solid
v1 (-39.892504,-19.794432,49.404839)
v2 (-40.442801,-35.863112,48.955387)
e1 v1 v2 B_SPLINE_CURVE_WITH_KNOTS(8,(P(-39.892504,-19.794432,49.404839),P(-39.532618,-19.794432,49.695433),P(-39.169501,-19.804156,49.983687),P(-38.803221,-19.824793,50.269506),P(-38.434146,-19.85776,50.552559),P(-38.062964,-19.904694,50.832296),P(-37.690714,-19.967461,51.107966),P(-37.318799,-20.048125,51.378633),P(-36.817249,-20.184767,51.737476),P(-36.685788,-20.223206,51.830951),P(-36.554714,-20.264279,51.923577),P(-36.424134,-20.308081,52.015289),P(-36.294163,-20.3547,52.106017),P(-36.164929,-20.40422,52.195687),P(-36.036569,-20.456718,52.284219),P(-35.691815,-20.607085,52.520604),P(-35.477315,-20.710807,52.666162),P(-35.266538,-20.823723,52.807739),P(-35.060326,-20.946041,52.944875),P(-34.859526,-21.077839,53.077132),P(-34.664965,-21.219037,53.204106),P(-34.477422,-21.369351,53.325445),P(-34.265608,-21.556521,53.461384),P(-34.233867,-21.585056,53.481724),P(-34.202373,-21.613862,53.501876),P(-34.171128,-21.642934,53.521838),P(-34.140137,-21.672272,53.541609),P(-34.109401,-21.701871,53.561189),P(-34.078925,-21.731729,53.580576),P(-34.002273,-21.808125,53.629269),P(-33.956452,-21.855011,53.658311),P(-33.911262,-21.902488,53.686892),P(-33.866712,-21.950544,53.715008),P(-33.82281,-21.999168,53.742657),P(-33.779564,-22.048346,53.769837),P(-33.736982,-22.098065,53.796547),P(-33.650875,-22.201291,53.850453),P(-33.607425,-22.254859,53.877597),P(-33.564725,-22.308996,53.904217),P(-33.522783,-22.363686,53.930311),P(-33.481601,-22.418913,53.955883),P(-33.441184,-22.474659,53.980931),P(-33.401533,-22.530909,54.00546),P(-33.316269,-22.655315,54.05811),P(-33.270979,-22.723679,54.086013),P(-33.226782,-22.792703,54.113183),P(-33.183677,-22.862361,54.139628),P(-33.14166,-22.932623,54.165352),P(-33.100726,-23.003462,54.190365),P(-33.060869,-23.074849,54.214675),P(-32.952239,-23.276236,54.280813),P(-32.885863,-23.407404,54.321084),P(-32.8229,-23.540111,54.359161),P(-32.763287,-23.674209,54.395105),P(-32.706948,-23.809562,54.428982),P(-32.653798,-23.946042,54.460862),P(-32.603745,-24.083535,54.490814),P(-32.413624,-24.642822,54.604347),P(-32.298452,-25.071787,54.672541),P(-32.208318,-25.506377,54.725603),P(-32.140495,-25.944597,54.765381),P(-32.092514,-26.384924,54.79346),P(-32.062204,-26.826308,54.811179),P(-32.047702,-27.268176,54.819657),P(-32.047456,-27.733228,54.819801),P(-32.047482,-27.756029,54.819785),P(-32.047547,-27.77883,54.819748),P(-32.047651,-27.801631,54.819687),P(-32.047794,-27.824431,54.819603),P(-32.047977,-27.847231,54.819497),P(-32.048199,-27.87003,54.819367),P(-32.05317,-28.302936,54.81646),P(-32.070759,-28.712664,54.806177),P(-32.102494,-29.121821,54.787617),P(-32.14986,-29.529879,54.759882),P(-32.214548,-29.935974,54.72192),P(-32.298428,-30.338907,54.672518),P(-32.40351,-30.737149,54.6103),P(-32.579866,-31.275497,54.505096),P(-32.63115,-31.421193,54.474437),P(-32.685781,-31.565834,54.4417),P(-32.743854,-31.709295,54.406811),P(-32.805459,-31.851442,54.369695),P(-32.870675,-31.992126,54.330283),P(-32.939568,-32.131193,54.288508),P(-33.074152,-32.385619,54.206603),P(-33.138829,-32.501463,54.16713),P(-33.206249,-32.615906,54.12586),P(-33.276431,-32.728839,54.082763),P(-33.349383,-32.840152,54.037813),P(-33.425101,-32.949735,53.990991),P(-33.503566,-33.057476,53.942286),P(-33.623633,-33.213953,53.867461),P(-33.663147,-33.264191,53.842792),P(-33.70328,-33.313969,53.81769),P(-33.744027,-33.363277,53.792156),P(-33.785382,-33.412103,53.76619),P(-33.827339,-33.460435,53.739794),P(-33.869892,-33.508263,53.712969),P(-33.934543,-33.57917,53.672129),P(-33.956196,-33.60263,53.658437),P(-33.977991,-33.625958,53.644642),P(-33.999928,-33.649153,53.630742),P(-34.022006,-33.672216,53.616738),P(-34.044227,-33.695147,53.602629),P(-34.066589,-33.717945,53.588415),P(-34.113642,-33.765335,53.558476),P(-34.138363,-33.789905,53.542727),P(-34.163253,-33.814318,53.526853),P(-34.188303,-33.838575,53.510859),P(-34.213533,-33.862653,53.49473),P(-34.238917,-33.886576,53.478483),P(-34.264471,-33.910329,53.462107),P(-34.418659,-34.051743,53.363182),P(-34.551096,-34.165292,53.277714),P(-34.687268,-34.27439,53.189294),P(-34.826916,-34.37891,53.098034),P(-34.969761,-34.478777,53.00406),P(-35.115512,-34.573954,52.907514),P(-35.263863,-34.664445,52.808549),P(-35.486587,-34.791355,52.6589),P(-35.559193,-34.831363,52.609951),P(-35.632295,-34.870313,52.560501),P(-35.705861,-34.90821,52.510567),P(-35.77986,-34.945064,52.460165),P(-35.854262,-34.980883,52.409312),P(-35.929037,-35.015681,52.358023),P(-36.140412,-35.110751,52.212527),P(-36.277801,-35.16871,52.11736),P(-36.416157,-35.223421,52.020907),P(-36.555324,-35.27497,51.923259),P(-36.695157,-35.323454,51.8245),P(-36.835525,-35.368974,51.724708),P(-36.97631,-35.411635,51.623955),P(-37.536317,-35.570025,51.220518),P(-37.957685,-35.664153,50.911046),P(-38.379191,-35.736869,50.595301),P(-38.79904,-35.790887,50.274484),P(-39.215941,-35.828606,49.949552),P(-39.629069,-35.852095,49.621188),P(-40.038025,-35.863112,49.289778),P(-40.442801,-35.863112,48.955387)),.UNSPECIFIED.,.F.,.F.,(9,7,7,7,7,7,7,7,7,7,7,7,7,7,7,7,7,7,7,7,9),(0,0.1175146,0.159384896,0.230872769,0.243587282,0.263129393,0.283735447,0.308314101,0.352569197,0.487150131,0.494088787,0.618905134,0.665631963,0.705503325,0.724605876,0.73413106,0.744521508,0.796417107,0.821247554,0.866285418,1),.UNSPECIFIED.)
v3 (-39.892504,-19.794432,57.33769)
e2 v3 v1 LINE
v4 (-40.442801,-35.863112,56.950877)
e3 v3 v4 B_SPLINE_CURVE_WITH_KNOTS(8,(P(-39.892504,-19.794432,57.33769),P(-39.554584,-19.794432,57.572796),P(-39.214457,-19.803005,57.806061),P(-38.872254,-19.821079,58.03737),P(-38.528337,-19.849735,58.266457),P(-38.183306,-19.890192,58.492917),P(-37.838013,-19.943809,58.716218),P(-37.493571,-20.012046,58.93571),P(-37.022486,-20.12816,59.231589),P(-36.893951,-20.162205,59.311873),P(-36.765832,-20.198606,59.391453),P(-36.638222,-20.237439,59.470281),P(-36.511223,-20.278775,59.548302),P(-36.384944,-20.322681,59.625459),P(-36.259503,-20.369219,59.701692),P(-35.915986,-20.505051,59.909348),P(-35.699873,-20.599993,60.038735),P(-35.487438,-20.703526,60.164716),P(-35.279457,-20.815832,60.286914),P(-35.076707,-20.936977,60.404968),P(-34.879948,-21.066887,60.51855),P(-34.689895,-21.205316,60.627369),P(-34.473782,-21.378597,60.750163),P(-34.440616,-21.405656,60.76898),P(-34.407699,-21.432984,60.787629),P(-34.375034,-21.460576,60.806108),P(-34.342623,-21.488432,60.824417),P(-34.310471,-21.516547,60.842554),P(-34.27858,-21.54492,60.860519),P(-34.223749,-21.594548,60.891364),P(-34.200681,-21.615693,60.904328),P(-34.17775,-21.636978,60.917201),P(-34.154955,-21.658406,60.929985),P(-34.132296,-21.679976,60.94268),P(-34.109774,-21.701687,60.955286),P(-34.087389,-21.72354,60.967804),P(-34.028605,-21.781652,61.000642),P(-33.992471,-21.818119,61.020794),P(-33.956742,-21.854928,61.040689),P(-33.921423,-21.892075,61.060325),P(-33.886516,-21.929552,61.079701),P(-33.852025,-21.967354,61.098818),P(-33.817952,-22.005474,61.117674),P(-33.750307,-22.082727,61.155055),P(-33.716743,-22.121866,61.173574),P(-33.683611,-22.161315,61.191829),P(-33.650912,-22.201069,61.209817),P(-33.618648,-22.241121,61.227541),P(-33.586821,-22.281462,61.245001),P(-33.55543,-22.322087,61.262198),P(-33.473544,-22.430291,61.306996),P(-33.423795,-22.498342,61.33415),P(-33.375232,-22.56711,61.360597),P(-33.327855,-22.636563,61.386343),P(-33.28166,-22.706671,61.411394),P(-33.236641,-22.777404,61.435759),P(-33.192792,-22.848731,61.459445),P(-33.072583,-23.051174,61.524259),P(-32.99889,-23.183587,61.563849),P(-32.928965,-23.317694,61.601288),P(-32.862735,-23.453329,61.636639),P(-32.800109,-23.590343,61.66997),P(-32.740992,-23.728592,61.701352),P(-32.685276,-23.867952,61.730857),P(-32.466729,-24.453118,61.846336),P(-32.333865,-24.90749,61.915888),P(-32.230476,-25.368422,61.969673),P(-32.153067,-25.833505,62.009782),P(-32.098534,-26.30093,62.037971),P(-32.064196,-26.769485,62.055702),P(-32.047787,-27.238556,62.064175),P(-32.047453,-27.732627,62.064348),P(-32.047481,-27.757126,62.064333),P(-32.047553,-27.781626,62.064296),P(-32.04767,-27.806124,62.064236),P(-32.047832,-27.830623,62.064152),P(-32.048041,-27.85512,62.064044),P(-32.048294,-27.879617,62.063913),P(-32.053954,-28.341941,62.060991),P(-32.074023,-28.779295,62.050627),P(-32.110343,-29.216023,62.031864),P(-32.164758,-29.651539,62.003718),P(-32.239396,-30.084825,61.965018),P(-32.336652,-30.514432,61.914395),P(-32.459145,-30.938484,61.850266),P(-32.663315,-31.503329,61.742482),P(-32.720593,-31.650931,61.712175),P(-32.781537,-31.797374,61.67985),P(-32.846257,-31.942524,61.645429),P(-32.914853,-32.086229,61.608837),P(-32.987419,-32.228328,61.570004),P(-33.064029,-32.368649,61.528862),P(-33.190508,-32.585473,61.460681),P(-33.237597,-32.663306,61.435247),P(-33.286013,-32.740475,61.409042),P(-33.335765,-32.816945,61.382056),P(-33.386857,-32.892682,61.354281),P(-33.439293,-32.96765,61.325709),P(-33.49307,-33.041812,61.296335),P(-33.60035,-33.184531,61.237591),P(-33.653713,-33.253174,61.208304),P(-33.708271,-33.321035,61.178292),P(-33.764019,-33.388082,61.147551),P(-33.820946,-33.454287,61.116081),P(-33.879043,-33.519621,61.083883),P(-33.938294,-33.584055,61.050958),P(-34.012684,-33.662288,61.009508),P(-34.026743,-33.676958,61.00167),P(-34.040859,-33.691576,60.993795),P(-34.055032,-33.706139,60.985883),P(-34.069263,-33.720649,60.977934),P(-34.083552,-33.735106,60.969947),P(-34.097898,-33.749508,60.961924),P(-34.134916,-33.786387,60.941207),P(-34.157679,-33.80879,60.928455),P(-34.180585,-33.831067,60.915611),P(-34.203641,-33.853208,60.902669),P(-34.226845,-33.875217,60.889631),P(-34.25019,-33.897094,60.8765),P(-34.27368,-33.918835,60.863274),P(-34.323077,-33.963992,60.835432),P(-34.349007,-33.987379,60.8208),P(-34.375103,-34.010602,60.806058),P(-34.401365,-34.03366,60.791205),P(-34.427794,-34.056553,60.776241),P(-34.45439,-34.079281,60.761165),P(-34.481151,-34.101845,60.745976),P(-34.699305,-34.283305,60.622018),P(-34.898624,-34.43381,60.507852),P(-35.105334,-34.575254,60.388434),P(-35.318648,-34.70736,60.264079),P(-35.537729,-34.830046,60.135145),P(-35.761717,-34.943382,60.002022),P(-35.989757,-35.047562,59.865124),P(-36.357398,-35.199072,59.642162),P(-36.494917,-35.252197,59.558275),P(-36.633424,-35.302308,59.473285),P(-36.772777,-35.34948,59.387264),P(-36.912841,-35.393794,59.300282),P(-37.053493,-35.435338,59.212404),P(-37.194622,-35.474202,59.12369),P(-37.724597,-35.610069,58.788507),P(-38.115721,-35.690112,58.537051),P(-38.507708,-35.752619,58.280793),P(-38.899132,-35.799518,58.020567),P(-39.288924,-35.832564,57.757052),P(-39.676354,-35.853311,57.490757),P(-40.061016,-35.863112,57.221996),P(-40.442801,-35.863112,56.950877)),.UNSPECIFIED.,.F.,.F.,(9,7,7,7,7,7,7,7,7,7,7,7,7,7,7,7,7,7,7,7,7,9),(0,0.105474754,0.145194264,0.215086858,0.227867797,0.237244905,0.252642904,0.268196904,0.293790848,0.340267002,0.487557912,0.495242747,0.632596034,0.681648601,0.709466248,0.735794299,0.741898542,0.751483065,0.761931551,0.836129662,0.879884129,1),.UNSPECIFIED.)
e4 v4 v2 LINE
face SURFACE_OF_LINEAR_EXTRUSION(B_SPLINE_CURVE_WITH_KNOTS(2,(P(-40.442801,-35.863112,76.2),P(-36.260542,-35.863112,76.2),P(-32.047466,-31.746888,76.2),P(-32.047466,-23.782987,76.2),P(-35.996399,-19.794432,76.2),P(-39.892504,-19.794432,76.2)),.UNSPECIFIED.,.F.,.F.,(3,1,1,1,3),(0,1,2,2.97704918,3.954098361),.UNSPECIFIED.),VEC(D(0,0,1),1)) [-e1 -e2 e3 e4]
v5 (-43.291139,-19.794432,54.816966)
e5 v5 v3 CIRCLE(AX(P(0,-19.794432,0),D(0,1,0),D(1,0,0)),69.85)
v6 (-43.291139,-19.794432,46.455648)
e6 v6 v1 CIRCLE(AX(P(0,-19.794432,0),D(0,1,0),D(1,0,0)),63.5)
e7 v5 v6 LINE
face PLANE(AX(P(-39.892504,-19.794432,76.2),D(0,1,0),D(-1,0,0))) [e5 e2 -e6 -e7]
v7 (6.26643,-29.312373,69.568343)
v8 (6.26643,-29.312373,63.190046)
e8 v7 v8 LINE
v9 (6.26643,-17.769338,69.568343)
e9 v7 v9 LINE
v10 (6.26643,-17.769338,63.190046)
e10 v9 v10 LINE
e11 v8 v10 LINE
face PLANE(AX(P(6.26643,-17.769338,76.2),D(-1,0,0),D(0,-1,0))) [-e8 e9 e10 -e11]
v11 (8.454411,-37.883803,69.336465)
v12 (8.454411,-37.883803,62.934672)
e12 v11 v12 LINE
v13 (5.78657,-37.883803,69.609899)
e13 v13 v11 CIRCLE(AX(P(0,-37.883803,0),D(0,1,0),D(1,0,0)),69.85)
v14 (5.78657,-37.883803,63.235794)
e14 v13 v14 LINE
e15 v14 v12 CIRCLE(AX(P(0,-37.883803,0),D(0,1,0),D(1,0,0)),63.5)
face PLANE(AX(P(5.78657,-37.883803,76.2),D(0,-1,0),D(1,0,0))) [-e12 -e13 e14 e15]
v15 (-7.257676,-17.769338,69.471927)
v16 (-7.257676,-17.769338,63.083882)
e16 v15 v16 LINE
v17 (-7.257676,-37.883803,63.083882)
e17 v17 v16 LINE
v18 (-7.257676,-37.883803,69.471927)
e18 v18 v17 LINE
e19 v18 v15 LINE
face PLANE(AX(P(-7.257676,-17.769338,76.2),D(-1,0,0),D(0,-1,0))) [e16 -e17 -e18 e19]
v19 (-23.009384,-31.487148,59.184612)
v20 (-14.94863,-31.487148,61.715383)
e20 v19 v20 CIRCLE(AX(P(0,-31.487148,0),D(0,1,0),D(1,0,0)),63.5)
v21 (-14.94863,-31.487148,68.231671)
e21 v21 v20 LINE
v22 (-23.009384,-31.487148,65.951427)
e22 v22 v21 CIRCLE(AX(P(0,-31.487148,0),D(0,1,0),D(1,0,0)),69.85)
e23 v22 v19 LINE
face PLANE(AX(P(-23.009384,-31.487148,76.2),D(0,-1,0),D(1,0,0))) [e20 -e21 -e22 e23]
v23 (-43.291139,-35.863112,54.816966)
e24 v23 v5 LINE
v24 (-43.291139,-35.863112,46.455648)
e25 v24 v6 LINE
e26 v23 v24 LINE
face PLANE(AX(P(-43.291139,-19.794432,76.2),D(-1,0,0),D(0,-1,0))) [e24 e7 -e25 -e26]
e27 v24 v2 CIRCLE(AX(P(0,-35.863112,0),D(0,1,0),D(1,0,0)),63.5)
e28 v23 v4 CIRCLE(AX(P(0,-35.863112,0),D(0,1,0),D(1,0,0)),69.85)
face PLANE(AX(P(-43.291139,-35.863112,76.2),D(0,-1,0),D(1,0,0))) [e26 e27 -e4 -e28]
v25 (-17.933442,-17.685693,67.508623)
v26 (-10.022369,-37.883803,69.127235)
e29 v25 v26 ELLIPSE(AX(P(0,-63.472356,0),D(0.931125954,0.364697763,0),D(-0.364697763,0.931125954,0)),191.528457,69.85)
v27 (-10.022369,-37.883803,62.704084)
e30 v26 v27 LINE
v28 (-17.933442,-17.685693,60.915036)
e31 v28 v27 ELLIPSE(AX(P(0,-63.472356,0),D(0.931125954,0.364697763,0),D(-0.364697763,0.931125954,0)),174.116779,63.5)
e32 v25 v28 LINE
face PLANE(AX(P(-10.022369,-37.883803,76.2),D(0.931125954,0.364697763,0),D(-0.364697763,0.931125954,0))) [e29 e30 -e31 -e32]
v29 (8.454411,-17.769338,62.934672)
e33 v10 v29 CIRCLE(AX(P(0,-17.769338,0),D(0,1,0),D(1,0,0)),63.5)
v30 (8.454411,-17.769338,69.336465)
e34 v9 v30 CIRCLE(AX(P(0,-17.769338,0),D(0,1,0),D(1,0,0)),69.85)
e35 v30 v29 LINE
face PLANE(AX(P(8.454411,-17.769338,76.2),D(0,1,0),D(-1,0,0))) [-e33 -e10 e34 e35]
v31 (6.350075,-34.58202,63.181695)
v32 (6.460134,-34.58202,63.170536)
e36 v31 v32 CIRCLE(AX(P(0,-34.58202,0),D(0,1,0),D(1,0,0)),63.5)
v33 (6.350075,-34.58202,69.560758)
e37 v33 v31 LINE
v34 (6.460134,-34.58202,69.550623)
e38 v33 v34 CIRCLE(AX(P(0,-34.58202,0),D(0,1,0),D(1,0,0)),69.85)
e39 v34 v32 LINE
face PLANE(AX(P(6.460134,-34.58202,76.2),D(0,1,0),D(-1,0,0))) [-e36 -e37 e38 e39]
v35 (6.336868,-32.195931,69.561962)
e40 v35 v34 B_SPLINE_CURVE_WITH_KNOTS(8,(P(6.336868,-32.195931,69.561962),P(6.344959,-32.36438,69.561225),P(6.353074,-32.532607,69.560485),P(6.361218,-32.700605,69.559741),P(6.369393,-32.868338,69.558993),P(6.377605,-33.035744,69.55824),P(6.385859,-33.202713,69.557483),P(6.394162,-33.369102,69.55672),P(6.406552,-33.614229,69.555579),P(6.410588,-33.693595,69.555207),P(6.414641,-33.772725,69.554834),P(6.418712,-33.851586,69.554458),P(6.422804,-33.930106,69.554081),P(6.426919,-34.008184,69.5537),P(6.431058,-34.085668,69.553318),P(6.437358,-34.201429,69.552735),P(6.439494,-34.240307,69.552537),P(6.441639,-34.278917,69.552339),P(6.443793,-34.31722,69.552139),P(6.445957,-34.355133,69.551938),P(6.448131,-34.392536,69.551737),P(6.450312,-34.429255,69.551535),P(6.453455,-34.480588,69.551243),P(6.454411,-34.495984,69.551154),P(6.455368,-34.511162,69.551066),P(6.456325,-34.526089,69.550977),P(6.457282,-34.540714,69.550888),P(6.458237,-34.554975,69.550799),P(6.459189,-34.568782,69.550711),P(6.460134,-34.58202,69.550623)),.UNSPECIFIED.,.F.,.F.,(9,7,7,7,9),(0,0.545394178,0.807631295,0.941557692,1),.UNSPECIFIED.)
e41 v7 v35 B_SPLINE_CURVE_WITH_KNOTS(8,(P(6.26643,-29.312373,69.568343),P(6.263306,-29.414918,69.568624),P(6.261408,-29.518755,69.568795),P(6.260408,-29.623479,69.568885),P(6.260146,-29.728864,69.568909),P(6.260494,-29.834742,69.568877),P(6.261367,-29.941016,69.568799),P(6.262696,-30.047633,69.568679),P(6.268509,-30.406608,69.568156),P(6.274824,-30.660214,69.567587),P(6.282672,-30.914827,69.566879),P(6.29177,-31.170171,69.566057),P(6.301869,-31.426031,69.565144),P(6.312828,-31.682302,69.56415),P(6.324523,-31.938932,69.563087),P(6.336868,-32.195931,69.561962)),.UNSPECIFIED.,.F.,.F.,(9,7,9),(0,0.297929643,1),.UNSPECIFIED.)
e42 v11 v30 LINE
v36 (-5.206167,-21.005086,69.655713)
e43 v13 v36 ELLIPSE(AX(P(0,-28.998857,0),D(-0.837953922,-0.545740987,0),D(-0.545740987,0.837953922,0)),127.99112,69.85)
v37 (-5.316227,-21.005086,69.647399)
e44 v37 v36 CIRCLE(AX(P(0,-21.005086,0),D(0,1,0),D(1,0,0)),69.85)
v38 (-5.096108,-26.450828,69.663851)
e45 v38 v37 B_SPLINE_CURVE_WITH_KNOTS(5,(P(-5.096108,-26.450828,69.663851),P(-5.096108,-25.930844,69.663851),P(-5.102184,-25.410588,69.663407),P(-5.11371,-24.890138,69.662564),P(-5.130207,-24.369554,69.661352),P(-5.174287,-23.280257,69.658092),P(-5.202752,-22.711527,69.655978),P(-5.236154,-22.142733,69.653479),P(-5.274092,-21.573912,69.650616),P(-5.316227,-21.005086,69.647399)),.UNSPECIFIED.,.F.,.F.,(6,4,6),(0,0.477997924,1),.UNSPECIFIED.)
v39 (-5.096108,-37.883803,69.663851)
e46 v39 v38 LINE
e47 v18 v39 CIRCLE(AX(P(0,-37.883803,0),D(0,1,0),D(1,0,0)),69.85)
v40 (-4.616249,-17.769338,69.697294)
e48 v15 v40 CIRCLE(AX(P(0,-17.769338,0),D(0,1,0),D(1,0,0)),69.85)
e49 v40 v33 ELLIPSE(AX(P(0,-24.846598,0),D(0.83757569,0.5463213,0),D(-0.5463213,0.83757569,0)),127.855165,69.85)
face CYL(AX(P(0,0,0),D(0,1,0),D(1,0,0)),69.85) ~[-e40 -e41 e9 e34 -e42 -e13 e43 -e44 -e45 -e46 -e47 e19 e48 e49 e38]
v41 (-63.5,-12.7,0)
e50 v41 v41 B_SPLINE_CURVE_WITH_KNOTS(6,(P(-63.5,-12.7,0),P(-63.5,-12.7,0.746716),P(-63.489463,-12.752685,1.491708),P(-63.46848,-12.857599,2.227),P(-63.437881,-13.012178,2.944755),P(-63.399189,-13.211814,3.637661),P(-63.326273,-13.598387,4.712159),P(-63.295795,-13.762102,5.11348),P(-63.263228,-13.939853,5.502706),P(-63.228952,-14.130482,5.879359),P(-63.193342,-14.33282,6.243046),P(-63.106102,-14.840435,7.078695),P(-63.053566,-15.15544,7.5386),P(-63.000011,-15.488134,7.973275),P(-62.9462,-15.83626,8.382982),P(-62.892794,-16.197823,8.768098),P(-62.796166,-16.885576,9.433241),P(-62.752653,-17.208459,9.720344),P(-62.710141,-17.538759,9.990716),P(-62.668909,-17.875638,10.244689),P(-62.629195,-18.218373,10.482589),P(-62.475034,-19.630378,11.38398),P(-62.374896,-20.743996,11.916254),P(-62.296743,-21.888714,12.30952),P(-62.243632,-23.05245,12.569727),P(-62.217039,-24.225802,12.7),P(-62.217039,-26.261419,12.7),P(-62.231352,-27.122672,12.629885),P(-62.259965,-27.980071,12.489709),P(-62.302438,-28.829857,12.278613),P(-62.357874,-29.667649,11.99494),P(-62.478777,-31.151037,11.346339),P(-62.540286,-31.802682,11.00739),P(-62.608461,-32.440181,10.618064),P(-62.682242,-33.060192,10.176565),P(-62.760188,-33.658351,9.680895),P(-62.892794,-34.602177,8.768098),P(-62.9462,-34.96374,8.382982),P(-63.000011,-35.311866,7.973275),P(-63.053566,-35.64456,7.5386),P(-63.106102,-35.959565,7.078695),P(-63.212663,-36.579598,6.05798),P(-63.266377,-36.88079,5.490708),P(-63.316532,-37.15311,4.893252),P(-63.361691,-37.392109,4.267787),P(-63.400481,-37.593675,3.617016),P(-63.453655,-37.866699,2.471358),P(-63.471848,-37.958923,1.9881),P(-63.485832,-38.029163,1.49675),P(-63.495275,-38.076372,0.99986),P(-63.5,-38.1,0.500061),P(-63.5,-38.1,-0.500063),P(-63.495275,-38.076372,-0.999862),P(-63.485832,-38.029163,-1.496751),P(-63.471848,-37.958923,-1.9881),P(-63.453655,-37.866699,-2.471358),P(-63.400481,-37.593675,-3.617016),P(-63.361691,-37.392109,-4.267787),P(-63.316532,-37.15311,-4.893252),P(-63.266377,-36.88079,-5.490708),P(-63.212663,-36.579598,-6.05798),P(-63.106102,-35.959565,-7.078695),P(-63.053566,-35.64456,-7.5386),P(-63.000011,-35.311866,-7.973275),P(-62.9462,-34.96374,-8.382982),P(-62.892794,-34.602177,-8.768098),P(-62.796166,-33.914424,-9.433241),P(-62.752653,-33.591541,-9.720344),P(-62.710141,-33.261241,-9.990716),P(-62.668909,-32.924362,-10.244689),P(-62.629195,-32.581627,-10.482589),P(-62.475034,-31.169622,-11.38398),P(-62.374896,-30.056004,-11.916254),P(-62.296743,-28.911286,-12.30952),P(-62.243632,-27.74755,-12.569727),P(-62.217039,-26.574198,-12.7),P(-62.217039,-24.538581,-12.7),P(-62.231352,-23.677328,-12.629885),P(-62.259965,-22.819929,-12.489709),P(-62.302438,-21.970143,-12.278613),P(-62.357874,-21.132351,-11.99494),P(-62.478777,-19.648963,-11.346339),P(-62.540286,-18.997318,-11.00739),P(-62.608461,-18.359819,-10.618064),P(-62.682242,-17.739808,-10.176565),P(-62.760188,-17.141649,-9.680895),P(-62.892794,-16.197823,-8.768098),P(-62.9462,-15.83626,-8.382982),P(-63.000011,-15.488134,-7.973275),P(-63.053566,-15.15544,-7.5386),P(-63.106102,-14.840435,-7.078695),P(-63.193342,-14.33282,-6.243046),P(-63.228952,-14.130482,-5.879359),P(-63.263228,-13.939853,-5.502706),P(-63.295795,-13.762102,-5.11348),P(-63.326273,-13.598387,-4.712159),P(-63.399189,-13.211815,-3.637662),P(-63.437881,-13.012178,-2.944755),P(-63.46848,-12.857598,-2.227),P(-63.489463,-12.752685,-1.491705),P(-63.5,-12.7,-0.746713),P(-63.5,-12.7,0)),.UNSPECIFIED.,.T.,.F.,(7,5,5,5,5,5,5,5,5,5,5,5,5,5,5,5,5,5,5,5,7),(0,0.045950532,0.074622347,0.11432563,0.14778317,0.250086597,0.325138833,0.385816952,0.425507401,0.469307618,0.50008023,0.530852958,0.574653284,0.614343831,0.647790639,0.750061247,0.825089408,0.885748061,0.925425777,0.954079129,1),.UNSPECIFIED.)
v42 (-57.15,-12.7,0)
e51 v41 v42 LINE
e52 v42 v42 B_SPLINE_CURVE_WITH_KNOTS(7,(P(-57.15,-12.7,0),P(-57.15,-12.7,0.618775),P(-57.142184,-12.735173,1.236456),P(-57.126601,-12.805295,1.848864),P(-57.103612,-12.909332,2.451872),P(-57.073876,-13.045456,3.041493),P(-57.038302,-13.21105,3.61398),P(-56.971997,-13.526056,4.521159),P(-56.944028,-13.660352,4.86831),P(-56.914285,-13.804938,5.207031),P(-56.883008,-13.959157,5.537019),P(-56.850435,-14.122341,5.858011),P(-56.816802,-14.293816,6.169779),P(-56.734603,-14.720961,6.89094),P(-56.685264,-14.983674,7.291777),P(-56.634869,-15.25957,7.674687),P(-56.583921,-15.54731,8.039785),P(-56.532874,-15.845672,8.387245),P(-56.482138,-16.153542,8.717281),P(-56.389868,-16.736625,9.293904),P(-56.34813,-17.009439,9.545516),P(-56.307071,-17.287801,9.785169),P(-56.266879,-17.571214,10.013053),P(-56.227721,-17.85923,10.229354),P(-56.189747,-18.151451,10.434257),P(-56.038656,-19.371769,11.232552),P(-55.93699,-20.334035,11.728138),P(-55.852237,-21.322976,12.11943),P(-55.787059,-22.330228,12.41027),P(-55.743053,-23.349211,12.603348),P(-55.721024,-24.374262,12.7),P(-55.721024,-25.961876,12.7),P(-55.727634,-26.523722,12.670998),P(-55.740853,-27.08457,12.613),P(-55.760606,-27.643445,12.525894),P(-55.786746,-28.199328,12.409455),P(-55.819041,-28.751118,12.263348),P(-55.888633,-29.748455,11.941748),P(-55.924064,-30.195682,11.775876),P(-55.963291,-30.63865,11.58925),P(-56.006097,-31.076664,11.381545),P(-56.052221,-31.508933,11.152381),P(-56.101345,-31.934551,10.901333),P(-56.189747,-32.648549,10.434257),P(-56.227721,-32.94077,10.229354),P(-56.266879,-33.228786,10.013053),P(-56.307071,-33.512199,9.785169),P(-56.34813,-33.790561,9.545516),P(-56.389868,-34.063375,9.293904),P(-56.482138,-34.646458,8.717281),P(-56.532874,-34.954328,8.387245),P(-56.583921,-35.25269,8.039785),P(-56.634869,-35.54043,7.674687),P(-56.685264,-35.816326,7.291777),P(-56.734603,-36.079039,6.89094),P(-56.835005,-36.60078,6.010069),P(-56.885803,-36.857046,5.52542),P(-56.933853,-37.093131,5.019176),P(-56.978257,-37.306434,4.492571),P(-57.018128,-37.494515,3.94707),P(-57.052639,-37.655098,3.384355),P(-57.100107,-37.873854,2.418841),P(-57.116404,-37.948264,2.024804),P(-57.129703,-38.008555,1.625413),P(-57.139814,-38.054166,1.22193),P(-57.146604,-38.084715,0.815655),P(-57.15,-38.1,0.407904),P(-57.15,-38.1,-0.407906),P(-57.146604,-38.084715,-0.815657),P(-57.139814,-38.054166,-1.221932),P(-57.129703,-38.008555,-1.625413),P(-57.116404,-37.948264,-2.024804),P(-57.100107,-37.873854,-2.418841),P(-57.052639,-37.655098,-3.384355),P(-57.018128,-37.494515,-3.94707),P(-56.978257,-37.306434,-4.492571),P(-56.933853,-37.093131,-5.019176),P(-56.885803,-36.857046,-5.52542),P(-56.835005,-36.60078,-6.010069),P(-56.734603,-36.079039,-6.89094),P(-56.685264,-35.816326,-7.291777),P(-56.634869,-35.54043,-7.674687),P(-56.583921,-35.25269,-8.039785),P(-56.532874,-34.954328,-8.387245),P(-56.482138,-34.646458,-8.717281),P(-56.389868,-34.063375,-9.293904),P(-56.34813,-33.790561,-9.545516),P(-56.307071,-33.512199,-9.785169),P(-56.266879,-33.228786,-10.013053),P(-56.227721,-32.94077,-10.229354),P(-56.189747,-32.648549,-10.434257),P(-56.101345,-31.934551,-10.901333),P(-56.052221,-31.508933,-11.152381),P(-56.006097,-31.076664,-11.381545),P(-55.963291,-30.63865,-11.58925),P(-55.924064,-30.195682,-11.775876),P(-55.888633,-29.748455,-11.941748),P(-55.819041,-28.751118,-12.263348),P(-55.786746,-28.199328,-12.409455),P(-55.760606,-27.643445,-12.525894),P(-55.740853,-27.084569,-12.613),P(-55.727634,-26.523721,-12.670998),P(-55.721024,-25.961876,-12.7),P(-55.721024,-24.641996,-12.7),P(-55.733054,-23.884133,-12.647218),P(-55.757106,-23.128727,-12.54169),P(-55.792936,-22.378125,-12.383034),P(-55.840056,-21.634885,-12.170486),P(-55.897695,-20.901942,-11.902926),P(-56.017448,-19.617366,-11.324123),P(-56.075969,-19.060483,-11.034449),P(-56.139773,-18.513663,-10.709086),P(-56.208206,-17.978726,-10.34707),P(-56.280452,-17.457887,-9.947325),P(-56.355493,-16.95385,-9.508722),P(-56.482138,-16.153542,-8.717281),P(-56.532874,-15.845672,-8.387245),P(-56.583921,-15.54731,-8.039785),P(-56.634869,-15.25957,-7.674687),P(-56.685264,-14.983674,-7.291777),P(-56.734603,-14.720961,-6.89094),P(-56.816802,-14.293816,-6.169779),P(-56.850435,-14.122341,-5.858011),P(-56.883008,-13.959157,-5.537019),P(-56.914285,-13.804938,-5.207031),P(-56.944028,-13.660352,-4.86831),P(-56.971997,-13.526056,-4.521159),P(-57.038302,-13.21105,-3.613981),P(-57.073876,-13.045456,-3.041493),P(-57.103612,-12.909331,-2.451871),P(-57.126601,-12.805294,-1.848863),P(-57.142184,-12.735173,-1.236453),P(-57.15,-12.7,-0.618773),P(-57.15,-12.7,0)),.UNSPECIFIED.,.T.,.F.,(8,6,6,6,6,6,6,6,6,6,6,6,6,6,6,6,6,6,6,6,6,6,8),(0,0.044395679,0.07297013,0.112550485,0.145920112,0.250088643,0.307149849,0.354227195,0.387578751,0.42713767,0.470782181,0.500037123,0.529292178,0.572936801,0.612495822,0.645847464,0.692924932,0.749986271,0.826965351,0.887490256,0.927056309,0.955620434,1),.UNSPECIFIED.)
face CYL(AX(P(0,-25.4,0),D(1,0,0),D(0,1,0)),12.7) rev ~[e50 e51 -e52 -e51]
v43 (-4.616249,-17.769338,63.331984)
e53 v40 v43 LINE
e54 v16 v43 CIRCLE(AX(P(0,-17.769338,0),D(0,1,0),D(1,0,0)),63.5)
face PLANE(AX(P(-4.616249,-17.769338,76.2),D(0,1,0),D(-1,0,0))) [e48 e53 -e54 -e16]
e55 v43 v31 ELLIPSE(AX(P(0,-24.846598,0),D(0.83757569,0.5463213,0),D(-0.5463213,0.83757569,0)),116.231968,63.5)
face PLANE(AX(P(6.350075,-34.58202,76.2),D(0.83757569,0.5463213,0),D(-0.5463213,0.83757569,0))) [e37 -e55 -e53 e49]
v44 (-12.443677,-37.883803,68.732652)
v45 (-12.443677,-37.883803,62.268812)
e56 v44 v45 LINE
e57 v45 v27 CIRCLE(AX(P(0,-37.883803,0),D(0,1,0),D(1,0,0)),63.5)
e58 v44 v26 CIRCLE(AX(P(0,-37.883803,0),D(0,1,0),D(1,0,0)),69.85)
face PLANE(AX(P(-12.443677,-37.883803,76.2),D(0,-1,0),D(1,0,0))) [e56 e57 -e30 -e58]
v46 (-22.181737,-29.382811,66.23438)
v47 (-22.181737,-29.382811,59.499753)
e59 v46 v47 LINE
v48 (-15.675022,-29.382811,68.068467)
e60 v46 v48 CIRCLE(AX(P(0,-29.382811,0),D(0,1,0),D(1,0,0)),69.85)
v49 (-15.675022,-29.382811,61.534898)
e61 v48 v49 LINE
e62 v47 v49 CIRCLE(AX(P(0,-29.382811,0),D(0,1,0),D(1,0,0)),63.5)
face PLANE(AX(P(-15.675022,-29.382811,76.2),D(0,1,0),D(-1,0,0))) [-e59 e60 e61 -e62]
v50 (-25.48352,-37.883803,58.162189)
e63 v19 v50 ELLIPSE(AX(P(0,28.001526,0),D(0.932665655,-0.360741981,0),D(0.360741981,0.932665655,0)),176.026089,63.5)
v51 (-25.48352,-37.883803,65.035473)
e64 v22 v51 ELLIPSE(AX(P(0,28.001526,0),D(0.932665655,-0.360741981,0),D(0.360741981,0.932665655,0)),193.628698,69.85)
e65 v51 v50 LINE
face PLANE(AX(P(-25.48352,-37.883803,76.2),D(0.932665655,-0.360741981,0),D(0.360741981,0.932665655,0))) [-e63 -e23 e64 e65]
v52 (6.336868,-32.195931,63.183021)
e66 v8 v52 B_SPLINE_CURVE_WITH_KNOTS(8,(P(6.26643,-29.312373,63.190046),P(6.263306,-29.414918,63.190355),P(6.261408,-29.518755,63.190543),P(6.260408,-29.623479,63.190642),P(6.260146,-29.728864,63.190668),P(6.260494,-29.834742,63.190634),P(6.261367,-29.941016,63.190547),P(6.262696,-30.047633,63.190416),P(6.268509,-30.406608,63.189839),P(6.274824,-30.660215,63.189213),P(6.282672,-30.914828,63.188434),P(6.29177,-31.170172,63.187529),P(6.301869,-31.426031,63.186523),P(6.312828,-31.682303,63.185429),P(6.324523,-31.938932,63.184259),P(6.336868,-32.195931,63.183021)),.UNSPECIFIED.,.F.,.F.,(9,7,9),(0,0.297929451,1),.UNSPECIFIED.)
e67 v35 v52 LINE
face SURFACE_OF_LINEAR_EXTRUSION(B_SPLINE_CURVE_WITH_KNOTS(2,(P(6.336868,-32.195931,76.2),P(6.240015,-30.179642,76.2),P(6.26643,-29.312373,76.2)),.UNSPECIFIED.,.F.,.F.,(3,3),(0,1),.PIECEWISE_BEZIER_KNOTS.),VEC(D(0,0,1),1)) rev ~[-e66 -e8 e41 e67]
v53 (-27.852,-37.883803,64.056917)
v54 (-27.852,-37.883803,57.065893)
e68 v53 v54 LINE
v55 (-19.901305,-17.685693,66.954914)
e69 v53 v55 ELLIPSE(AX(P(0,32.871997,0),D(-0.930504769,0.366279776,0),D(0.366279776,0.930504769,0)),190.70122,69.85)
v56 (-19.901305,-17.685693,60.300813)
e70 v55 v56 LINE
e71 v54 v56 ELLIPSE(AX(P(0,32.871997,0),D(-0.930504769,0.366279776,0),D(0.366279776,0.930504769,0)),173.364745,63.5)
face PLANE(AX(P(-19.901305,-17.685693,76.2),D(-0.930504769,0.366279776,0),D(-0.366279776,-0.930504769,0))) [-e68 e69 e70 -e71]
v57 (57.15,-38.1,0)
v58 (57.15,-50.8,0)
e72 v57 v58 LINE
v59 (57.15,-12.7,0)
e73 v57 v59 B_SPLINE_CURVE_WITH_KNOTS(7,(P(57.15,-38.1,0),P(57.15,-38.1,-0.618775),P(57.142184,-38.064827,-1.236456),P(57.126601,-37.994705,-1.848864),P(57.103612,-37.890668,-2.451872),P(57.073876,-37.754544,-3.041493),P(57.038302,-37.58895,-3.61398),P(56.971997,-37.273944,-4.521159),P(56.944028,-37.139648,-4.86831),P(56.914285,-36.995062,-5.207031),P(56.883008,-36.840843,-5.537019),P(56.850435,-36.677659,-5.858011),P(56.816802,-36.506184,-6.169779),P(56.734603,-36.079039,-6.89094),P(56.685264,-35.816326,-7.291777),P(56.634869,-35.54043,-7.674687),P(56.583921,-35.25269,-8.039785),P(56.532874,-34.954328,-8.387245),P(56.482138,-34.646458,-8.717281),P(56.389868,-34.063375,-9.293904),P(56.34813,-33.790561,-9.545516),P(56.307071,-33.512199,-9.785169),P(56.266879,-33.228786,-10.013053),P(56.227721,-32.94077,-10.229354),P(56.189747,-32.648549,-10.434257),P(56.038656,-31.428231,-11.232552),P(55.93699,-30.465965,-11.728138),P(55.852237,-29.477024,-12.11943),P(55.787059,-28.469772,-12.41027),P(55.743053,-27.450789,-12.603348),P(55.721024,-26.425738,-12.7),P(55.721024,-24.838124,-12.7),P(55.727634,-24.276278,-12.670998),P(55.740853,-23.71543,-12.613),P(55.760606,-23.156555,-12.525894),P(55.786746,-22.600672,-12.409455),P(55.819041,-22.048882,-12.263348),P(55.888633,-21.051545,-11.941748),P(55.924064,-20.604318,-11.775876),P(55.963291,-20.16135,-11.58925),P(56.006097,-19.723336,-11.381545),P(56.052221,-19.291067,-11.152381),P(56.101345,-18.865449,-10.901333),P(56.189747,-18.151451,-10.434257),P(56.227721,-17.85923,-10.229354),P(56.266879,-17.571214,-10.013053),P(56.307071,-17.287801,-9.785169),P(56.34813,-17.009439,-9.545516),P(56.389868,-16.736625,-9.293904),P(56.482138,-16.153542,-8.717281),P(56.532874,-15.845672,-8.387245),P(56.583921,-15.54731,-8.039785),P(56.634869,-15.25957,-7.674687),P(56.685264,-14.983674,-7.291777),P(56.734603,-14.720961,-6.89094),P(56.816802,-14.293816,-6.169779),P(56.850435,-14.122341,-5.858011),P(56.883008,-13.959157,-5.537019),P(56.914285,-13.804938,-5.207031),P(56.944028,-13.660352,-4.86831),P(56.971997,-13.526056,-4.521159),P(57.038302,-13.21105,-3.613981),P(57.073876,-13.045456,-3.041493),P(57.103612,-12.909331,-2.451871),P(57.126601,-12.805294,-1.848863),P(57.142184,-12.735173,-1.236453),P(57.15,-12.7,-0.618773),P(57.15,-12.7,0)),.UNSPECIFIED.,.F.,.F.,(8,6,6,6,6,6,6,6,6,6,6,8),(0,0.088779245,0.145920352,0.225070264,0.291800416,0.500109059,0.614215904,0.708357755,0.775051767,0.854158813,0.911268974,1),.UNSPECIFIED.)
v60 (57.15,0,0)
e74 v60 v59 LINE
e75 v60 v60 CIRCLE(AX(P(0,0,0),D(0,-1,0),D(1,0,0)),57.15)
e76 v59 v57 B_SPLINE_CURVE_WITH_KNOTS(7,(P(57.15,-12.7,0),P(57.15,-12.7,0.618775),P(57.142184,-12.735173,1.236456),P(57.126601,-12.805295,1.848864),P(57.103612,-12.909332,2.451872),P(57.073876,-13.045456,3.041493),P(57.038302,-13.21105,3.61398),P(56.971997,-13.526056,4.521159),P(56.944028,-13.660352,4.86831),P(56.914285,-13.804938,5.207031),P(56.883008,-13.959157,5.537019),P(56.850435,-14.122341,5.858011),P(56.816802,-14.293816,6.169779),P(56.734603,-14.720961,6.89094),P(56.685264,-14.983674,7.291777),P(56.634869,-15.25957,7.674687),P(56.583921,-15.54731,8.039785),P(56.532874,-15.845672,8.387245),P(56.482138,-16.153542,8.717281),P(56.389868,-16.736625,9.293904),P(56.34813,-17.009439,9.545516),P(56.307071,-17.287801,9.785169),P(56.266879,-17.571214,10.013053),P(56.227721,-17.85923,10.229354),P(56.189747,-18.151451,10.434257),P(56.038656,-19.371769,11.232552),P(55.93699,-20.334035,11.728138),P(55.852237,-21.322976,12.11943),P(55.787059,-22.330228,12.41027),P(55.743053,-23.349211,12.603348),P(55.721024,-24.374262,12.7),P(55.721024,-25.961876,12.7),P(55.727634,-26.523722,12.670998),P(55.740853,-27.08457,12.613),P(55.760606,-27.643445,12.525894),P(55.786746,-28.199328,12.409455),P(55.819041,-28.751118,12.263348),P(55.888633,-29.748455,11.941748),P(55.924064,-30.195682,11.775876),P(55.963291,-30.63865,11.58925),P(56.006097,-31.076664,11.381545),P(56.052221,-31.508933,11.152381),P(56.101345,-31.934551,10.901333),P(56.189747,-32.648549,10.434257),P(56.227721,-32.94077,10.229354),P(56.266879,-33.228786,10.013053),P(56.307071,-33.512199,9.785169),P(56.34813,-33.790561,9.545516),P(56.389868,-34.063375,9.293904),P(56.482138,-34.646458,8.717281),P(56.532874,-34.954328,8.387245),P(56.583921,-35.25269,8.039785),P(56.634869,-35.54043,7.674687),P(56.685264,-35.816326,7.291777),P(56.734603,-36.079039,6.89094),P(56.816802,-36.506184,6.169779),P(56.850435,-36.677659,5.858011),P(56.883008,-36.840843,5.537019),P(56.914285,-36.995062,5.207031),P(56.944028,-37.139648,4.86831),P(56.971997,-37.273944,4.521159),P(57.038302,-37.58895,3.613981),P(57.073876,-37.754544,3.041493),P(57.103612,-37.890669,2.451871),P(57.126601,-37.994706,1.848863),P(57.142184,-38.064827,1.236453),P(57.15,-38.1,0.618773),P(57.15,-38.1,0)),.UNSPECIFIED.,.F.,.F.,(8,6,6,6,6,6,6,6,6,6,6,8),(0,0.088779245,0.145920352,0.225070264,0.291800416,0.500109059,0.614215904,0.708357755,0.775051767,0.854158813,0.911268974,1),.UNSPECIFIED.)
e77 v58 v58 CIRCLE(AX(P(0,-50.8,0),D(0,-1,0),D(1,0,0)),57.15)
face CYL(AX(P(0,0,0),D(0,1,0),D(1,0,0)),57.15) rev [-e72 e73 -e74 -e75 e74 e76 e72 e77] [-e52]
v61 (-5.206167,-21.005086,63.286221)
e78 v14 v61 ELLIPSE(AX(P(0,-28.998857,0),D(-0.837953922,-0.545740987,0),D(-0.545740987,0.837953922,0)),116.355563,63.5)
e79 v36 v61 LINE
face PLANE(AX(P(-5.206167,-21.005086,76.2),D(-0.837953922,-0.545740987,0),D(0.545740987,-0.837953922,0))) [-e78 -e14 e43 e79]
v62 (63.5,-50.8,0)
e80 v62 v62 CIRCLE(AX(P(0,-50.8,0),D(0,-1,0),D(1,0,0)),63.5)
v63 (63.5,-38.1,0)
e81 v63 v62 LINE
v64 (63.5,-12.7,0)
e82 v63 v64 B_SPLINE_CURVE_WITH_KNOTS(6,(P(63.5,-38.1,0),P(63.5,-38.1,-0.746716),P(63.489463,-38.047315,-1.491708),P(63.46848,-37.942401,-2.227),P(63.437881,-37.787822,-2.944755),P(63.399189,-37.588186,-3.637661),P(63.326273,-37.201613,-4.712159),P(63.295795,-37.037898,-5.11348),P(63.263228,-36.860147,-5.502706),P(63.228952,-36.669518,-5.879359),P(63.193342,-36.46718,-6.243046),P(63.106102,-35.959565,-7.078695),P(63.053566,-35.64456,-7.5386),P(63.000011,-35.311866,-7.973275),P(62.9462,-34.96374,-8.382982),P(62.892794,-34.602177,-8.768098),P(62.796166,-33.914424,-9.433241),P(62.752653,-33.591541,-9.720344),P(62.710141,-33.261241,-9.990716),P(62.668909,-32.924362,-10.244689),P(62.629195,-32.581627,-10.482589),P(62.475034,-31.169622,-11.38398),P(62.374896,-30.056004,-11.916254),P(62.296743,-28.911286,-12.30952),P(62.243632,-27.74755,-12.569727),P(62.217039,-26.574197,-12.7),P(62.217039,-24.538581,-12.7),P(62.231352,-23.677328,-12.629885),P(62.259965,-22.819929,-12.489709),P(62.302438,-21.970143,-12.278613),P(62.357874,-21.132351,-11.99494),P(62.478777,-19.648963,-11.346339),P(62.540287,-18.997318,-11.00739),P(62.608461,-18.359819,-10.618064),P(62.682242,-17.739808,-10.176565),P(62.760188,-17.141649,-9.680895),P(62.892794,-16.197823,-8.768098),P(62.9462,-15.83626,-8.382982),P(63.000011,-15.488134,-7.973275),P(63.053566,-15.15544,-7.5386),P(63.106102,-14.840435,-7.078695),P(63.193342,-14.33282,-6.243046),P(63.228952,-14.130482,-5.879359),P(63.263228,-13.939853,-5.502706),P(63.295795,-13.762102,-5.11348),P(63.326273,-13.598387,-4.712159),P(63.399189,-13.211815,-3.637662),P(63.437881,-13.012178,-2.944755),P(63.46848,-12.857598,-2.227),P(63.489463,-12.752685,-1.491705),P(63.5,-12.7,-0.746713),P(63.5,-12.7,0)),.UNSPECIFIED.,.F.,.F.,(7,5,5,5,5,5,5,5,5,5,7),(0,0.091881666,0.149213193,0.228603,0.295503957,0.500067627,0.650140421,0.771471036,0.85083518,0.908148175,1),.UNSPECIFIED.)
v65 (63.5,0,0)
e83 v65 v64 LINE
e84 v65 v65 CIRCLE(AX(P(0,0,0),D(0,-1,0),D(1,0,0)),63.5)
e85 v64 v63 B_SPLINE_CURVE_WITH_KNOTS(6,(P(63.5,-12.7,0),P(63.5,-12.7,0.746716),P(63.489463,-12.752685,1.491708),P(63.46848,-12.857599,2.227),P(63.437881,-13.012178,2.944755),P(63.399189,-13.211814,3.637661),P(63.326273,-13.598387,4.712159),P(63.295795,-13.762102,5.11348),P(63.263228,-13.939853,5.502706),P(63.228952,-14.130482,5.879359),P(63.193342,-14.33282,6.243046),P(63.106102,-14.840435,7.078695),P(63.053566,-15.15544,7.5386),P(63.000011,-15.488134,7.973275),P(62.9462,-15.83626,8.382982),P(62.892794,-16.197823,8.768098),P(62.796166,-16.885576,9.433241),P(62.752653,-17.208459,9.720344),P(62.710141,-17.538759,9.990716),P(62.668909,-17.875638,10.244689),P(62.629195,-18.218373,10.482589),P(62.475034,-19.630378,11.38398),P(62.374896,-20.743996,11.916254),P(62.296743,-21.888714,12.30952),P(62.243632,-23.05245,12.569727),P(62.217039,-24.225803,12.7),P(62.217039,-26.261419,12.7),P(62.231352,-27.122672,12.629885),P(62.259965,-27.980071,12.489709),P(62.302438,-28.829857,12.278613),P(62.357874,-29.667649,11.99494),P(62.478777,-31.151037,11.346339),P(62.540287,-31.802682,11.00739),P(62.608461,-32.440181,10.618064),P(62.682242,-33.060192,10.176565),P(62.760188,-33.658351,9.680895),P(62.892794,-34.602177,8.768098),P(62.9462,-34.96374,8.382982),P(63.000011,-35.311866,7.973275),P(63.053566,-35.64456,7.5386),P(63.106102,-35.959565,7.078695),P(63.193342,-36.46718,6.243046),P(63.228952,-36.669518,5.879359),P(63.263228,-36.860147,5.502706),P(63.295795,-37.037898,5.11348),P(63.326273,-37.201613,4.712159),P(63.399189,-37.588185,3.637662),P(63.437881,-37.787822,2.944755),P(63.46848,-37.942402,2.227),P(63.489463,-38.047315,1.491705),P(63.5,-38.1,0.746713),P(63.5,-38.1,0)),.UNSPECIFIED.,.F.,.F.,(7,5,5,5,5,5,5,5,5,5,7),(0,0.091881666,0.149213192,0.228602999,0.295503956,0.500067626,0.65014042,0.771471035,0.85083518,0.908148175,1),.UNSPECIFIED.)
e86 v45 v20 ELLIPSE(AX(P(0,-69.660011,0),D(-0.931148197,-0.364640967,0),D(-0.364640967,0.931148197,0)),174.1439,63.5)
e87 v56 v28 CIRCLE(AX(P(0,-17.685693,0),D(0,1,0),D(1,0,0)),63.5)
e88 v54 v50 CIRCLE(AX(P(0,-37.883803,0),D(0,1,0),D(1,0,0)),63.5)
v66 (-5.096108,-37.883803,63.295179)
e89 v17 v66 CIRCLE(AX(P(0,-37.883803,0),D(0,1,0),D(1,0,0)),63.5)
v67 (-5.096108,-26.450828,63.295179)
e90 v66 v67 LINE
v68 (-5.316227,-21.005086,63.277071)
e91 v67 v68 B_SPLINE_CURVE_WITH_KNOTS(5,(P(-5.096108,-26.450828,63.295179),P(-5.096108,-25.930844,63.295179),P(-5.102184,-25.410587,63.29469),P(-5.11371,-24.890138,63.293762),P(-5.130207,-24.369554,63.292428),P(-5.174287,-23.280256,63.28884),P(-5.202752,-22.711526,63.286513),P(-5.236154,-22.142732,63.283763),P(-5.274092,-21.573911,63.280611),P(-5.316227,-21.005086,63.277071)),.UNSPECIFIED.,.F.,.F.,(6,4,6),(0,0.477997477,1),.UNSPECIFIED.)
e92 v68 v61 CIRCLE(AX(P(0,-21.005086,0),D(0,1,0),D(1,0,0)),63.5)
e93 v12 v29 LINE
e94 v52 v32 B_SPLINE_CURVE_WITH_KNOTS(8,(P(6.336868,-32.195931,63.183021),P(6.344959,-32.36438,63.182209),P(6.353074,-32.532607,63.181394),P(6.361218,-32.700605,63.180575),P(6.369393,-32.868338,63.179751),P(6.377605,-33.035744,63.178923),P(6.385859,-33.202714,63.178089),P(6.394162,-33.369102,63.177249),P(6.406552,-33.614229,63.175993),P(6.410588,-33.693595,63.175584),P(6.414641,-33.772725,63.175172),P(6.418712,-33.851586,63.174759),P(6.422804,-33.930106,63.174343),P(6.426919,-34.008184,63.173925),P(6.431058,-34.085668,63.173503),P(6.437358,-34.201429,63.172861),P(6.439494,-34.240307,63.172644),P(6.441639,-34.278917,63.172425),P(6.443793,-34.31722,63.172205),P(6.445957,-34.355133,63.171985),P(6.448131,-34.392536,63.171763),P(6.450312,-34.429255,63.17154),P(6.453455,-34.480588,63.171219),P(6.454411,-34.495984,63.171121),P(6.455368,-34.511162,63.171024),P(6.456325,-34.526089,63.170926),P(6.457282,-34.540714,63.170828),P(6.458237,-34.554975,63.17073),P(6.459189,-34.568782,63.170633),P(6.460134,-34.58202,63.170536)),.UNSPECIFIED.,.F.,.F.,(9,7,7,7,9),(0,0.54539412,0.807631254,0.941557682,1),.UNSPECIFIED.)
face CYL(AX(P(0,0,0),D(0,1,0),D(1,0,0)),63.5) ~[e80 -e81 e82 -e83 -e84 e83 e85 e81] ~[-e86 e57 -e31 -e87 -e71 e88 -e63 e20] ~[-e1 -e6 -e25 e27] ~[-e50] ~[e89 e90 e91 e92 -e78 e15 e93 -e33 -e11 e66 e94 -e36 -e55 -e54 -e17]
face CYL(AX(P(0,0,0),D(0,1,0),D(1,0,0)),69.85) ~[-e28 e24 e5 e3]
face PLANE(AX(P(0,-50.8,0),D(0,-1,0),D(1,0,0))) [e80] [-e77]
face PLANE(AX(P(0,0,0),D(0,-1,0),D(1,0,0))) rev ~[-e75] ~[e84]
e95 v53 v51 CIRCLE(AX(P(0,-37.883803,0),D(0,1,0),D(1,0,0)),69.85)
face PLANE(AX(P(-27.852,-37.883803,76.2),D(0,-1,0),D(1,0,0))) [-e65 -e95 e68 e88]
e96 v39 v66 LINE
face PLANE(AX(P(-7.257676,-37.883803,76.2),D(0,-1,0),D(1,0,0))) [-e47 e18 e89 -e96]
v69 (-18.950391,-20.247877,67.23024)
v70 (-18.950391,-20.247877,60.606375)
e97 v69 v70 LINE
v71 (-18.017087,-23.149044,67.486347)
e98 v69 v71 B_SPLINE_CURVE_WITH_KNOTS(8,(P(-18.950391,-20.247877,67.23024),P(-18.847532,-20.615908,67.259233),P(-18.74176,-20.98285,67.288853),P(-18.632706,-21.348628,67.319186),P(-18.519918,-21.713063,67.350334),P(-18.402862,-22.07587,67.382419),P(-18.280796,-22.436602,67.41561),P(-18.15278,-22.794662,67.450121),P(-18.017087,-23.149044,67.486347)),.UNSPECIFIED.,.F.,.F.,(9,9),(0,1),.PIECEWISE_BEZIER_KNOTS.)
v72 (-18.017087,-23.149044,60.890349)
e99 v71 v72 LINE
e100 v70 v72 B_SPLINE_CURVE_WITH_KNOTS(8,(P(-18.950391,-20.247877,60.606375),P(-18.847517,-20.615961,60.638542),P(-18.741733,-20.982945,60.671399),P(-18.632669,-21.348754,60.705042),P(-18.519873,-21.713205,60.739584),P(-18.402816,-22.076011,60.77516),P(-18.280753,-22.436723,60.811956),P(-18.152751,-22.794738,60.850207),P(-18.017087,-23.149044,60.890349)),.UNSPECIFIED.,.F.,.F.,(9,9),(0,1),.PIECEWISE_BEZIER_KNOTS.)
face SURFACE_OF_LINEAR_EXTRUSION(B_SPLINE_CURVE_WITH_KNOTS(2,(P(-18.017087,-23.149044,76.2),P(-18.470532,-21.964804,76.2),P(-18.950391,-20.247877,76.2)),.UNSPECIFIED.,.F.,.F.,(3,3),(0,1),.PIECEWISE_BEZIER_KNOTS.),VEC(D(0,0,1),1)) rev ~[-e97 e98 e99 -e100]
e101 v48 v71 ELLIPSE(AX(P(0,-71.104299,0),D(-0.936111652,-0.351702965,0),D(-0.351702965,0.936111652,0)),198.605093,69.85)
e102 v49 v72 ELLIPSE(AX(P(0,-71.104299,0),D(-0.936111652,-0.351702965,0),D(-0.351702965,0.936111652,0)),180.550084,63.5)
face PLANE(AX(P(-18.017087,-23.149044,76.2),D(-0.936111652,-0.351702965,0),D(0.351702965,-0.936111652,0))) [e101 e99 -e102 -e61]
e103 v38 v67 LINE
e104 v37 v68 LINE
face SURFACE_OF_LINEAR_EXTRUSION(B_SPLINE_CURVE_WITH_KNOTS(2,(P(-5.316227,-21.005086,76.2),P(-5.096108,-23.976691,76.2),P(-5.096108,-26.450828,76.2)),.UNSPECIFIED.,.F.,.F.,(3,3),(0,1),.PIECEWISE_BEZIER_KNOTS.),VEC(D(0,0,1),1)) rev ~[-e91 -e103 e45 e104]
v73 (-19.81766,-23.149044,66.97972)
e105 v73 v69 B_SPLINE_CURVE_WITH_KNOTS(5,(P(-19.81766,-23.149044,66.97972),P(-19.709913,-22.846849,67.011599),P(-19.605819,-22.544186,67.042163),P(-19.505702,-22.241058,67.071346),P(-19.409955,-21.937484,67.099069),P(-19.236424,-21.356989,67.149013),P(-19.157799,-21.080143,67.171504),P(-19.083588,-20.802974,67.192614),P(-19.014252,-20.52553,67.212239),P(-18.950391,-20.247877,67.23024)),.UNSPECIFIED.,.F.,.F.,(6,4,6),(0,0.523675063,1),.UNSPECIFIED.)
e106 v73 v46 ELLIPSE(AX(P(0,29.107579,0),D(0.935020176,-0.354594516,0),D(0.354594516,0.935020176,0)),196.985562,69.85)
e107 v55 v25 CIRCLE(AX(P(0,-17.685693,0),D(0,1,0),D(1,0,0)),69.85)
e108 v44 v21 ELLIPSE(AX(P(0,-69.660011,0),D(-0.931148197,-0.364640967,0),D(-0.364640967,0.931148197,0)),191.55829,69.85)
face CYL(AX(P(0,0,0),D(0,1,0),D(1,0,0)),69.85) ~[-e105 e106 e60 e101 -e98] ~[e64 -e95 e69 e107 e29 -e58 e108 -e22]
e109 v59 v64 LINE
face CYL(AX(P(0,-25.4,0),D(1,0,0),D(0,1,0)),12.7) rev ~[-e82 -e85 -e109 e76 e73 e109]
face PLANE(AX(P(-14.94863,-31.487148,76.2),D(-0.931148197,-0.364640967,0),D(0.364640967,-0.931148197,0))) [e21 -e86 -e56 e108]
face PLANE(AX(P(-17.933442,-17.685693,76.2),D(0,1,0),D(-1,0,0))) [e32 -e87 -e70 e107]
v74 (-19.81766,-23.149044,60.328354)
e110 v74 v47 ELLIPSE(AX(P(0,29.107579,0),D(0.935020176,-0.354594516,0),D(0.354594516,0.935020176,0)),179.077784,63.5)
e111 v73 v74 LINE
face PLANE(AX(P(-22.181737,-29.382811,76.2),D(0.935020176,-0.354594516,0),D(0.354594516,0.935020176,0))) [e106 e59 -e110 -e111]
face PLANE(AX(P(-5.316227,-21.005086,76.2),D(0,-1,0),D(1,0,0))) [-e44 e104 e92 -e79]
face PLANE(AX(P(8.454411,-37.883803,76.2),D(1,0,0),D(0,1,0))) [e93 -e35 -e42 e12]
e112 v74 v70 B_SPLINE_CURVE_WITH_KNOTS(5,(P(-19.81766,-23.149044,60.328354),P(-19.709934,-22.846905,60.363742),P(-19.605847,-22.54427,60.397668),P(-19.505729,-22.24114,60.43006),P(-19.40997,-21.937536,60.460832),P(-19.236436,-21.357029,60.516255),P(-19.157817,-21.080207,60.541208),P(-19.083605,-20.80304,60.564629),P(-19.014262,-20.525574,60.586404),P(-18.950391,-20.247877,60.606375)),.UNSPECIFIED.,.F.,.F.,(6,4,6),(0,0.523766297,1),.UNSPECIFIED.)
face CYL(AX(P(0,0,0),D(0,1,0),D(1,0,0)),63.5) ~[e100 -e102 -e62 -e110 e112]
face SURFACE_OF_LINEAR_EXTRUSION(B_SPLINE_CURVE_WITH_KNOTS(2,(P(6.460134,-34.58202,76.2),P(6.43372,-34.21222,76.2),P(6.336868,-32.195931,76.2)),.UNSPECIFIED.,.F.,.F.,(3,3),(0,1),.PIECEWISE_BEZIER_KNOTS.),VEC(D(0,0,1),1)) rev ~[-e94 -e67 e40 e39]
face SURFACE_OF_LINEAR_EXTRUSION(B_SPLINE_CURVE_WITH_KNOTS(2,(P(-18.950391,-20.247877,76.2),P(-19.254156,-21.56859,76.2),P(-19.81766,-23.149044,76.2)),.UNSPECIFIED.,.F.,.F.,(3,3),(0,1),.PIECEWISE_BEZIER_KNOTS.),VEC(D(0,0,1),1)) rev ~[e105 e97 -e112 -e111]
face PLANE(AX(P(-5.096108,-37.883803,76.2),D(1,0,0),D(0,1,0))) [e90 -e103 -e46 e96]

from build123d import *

# Parameters (mm, degrees)
F0_R     = 63.5
F0_R_2   = 57.15
F1_DEPTH = 50.8
F4_R     = 117.5833254056
F4_R_2   = 69.85
F5_DEPTH = 76.2
F7_R     = 12.7
F8_DEPTH = 76.2


with BuildPart() as f1:
    # F0 (on Front) → F1 (new body)
    with BuildSketch(Plane.XZ):
        Circle(F0_R)
        Circle(F0_R_2, mode=Mode.SUBTRACT)
    extrude(amount=F1_DEPTH)

    # F2 (on offset) → F3 (join, up to the next surface of F1)
    with BuildSketch(Plane.XY.offset(76.2)):
        with BuildLine():
            Line((5.7865704067, -37.8838032484), (8.454411462, -37.8838032484))
            Line((8.454411462, -37.8838032484), (8.454411462, -17.7693382623))
            Line((8.454411462, -17.7693382623), (6.2664296064, -17.7693382623))
            Line((6.2664296064, -17.7693382623), (6.2664296064, -29.3123733233))
            add(Edge.make_bspline(
                [(6.3368676541, -32.1959308995), (6.2400153385, -30.1796417852), (6.2664296064, -29.3123733233)],
                knots=[0, 0, 0, 1, 1, 1], degree=2))
            add(Edge.make_bspline(
                [(6.4601342375, -34.5820197642), (6.4337199696, -34.2122200139), (6.3368676541, -32.1959308995)],
                knots=[0, 0, 0, 1, 1, 1], degree=2))
            Line((6.4601342375, -34.5820197642), (6.350074788, -34.5820197642))
            Line((6.350074788, -34.5820197642), (-4.6162487577, -17.7693382623))
            Line((-4.6162487577, -17.7693382623), (-7.2576755451, -17.7693382623))
            Line((-7.2576755451, -17.7693382623), (-7.2576755451, -37.8838032484))
            Line((-7.2576755451, -37.8838032484), (-5.0961079574, -37.8838032484))
            Line((-5.0961079574, -37.8838032484), (-5.0961079574, -26.4508276369))
            add(Edge.make_bspline(
                [(-5.3162268563, -21.0050860769), (-5.0961079574, -23.9766912127), (-5.0961079574, -26.4508276369)],
                knots=[0, 0, 0, 1, 1, 1], degree=2))
            Line((-5.3162268563, -21.0050860769), (-5.2061674069, -21.0050860769))
            Line((-5.2061674069, -21.0050860769), (5.7865704067, -37.8838032484))
        make_face()
        Polygon((-14.9486298744, -31.4871480449), (-12.4436768043, -37.8838032484), (-10.0223689159, -37.8838032484), (-17.9334421442, -17.6856930807), (-19.9013051008, -17.6856930807), (-27.8519997309, -37.8838032484), (-25.4835203782, -37.8838032484), (-23.009383954, -31.4871480449), align=None)
        with BuildLine():
            Line((-18.0170873258, -23.1490441527), (-15.6750222409, -29.382811371))
            Line((-15.6750222409, -29.382811371), (-22.1817368939, -29.382811371))
            Line((-22.1817368939, -29.382811371), (-19.8176599192, -23.1490441527))
            add(Edge.make_bspline(
                [(-18.9503914573, -20.2478770645), (-19.2541555379, -21.5685904582), (-19.8176599192, -23.1490441527)],
                knots=[0, 0, 0, 1, 1, 1], degree=2))
            add(Edge.make_bspline(
                [(-18.0170873258, -23.1490441527), (-18.4705322576, -21.9648044763), (-18.9503914573, -20.2478770645)],
                knots=[0, 0, 0, 1, 1, 1], degree=2))
        make_face(mode=Mode.SUBTRACT)
        with BuildLine():
            add(Edge.make_bspline(
                [(-34.1540038078, -33.8050000509), (-32.0474659448, -31.7468883457), (-32.0474659448, -27.7187124949)],
                knots=[0, 0, 0, 1, 1, 1], degree=2))
            add(Edge.make_bspline(
                [(-32.0474659448, -27.7187124949), (-32.0474659448, -23.7829865817), (-34.0219324684, -21.7887093572)],
                knots=[0, 0, 0, 1, 1, 1], degree=2))
            add(Edge.make_bspline(
                [(-34.0219324684, -21.7887093572), (-35.996398992, -19.7944321327), (-39.8925035034, -19.7944321327)],
                knots=[0, 0, 0, 1, 1, 1], degree=2))
            Line((-39.8925035034, -19.7944321327), (-43.2911393032, -19.7944321327))
            Line((-43.2911393032, -19.7944321327), (-43.2911393032, -35.863111756))
            Line((-43.2911393032, -35.863111756), (-40.4428007508, -35.863111756))
            add(Edge.make_bspline(
                [(-40.4428007508, -35.863111756), (-36.2605416707, -35.863111756), (-34.1540038078, -33.8050000509)],
                knots=[0, 0, 0, 1, 1, 1], degree=2))
        make_face()
    extrude(until=Until.NEXT, dir=(0, 0, -1))

    # F4 (on Front) → F5 (cut, symmetric)
    with BuildSketch(Plane.XZ):
        with Locations((3.9105862379, 0.7332265377)):
            Circle(F4_R)
        Circle(F4_R_2, mode=Mode.SUBTRACT)
    extrude(amount=F5_DEPTH, both=True, mode=Mode.SUBTRACT)

    # F7 (on Right) → F8 (cut, symmetric)
    with BuildSketch(Plane.YZ):
        with Locations((-25.4, 0)):
            Circle(F7_R)
    extrude(amount=F8_DEPTH, both=True, mode=Mode.SUBTRACT)


solid = f1.part
